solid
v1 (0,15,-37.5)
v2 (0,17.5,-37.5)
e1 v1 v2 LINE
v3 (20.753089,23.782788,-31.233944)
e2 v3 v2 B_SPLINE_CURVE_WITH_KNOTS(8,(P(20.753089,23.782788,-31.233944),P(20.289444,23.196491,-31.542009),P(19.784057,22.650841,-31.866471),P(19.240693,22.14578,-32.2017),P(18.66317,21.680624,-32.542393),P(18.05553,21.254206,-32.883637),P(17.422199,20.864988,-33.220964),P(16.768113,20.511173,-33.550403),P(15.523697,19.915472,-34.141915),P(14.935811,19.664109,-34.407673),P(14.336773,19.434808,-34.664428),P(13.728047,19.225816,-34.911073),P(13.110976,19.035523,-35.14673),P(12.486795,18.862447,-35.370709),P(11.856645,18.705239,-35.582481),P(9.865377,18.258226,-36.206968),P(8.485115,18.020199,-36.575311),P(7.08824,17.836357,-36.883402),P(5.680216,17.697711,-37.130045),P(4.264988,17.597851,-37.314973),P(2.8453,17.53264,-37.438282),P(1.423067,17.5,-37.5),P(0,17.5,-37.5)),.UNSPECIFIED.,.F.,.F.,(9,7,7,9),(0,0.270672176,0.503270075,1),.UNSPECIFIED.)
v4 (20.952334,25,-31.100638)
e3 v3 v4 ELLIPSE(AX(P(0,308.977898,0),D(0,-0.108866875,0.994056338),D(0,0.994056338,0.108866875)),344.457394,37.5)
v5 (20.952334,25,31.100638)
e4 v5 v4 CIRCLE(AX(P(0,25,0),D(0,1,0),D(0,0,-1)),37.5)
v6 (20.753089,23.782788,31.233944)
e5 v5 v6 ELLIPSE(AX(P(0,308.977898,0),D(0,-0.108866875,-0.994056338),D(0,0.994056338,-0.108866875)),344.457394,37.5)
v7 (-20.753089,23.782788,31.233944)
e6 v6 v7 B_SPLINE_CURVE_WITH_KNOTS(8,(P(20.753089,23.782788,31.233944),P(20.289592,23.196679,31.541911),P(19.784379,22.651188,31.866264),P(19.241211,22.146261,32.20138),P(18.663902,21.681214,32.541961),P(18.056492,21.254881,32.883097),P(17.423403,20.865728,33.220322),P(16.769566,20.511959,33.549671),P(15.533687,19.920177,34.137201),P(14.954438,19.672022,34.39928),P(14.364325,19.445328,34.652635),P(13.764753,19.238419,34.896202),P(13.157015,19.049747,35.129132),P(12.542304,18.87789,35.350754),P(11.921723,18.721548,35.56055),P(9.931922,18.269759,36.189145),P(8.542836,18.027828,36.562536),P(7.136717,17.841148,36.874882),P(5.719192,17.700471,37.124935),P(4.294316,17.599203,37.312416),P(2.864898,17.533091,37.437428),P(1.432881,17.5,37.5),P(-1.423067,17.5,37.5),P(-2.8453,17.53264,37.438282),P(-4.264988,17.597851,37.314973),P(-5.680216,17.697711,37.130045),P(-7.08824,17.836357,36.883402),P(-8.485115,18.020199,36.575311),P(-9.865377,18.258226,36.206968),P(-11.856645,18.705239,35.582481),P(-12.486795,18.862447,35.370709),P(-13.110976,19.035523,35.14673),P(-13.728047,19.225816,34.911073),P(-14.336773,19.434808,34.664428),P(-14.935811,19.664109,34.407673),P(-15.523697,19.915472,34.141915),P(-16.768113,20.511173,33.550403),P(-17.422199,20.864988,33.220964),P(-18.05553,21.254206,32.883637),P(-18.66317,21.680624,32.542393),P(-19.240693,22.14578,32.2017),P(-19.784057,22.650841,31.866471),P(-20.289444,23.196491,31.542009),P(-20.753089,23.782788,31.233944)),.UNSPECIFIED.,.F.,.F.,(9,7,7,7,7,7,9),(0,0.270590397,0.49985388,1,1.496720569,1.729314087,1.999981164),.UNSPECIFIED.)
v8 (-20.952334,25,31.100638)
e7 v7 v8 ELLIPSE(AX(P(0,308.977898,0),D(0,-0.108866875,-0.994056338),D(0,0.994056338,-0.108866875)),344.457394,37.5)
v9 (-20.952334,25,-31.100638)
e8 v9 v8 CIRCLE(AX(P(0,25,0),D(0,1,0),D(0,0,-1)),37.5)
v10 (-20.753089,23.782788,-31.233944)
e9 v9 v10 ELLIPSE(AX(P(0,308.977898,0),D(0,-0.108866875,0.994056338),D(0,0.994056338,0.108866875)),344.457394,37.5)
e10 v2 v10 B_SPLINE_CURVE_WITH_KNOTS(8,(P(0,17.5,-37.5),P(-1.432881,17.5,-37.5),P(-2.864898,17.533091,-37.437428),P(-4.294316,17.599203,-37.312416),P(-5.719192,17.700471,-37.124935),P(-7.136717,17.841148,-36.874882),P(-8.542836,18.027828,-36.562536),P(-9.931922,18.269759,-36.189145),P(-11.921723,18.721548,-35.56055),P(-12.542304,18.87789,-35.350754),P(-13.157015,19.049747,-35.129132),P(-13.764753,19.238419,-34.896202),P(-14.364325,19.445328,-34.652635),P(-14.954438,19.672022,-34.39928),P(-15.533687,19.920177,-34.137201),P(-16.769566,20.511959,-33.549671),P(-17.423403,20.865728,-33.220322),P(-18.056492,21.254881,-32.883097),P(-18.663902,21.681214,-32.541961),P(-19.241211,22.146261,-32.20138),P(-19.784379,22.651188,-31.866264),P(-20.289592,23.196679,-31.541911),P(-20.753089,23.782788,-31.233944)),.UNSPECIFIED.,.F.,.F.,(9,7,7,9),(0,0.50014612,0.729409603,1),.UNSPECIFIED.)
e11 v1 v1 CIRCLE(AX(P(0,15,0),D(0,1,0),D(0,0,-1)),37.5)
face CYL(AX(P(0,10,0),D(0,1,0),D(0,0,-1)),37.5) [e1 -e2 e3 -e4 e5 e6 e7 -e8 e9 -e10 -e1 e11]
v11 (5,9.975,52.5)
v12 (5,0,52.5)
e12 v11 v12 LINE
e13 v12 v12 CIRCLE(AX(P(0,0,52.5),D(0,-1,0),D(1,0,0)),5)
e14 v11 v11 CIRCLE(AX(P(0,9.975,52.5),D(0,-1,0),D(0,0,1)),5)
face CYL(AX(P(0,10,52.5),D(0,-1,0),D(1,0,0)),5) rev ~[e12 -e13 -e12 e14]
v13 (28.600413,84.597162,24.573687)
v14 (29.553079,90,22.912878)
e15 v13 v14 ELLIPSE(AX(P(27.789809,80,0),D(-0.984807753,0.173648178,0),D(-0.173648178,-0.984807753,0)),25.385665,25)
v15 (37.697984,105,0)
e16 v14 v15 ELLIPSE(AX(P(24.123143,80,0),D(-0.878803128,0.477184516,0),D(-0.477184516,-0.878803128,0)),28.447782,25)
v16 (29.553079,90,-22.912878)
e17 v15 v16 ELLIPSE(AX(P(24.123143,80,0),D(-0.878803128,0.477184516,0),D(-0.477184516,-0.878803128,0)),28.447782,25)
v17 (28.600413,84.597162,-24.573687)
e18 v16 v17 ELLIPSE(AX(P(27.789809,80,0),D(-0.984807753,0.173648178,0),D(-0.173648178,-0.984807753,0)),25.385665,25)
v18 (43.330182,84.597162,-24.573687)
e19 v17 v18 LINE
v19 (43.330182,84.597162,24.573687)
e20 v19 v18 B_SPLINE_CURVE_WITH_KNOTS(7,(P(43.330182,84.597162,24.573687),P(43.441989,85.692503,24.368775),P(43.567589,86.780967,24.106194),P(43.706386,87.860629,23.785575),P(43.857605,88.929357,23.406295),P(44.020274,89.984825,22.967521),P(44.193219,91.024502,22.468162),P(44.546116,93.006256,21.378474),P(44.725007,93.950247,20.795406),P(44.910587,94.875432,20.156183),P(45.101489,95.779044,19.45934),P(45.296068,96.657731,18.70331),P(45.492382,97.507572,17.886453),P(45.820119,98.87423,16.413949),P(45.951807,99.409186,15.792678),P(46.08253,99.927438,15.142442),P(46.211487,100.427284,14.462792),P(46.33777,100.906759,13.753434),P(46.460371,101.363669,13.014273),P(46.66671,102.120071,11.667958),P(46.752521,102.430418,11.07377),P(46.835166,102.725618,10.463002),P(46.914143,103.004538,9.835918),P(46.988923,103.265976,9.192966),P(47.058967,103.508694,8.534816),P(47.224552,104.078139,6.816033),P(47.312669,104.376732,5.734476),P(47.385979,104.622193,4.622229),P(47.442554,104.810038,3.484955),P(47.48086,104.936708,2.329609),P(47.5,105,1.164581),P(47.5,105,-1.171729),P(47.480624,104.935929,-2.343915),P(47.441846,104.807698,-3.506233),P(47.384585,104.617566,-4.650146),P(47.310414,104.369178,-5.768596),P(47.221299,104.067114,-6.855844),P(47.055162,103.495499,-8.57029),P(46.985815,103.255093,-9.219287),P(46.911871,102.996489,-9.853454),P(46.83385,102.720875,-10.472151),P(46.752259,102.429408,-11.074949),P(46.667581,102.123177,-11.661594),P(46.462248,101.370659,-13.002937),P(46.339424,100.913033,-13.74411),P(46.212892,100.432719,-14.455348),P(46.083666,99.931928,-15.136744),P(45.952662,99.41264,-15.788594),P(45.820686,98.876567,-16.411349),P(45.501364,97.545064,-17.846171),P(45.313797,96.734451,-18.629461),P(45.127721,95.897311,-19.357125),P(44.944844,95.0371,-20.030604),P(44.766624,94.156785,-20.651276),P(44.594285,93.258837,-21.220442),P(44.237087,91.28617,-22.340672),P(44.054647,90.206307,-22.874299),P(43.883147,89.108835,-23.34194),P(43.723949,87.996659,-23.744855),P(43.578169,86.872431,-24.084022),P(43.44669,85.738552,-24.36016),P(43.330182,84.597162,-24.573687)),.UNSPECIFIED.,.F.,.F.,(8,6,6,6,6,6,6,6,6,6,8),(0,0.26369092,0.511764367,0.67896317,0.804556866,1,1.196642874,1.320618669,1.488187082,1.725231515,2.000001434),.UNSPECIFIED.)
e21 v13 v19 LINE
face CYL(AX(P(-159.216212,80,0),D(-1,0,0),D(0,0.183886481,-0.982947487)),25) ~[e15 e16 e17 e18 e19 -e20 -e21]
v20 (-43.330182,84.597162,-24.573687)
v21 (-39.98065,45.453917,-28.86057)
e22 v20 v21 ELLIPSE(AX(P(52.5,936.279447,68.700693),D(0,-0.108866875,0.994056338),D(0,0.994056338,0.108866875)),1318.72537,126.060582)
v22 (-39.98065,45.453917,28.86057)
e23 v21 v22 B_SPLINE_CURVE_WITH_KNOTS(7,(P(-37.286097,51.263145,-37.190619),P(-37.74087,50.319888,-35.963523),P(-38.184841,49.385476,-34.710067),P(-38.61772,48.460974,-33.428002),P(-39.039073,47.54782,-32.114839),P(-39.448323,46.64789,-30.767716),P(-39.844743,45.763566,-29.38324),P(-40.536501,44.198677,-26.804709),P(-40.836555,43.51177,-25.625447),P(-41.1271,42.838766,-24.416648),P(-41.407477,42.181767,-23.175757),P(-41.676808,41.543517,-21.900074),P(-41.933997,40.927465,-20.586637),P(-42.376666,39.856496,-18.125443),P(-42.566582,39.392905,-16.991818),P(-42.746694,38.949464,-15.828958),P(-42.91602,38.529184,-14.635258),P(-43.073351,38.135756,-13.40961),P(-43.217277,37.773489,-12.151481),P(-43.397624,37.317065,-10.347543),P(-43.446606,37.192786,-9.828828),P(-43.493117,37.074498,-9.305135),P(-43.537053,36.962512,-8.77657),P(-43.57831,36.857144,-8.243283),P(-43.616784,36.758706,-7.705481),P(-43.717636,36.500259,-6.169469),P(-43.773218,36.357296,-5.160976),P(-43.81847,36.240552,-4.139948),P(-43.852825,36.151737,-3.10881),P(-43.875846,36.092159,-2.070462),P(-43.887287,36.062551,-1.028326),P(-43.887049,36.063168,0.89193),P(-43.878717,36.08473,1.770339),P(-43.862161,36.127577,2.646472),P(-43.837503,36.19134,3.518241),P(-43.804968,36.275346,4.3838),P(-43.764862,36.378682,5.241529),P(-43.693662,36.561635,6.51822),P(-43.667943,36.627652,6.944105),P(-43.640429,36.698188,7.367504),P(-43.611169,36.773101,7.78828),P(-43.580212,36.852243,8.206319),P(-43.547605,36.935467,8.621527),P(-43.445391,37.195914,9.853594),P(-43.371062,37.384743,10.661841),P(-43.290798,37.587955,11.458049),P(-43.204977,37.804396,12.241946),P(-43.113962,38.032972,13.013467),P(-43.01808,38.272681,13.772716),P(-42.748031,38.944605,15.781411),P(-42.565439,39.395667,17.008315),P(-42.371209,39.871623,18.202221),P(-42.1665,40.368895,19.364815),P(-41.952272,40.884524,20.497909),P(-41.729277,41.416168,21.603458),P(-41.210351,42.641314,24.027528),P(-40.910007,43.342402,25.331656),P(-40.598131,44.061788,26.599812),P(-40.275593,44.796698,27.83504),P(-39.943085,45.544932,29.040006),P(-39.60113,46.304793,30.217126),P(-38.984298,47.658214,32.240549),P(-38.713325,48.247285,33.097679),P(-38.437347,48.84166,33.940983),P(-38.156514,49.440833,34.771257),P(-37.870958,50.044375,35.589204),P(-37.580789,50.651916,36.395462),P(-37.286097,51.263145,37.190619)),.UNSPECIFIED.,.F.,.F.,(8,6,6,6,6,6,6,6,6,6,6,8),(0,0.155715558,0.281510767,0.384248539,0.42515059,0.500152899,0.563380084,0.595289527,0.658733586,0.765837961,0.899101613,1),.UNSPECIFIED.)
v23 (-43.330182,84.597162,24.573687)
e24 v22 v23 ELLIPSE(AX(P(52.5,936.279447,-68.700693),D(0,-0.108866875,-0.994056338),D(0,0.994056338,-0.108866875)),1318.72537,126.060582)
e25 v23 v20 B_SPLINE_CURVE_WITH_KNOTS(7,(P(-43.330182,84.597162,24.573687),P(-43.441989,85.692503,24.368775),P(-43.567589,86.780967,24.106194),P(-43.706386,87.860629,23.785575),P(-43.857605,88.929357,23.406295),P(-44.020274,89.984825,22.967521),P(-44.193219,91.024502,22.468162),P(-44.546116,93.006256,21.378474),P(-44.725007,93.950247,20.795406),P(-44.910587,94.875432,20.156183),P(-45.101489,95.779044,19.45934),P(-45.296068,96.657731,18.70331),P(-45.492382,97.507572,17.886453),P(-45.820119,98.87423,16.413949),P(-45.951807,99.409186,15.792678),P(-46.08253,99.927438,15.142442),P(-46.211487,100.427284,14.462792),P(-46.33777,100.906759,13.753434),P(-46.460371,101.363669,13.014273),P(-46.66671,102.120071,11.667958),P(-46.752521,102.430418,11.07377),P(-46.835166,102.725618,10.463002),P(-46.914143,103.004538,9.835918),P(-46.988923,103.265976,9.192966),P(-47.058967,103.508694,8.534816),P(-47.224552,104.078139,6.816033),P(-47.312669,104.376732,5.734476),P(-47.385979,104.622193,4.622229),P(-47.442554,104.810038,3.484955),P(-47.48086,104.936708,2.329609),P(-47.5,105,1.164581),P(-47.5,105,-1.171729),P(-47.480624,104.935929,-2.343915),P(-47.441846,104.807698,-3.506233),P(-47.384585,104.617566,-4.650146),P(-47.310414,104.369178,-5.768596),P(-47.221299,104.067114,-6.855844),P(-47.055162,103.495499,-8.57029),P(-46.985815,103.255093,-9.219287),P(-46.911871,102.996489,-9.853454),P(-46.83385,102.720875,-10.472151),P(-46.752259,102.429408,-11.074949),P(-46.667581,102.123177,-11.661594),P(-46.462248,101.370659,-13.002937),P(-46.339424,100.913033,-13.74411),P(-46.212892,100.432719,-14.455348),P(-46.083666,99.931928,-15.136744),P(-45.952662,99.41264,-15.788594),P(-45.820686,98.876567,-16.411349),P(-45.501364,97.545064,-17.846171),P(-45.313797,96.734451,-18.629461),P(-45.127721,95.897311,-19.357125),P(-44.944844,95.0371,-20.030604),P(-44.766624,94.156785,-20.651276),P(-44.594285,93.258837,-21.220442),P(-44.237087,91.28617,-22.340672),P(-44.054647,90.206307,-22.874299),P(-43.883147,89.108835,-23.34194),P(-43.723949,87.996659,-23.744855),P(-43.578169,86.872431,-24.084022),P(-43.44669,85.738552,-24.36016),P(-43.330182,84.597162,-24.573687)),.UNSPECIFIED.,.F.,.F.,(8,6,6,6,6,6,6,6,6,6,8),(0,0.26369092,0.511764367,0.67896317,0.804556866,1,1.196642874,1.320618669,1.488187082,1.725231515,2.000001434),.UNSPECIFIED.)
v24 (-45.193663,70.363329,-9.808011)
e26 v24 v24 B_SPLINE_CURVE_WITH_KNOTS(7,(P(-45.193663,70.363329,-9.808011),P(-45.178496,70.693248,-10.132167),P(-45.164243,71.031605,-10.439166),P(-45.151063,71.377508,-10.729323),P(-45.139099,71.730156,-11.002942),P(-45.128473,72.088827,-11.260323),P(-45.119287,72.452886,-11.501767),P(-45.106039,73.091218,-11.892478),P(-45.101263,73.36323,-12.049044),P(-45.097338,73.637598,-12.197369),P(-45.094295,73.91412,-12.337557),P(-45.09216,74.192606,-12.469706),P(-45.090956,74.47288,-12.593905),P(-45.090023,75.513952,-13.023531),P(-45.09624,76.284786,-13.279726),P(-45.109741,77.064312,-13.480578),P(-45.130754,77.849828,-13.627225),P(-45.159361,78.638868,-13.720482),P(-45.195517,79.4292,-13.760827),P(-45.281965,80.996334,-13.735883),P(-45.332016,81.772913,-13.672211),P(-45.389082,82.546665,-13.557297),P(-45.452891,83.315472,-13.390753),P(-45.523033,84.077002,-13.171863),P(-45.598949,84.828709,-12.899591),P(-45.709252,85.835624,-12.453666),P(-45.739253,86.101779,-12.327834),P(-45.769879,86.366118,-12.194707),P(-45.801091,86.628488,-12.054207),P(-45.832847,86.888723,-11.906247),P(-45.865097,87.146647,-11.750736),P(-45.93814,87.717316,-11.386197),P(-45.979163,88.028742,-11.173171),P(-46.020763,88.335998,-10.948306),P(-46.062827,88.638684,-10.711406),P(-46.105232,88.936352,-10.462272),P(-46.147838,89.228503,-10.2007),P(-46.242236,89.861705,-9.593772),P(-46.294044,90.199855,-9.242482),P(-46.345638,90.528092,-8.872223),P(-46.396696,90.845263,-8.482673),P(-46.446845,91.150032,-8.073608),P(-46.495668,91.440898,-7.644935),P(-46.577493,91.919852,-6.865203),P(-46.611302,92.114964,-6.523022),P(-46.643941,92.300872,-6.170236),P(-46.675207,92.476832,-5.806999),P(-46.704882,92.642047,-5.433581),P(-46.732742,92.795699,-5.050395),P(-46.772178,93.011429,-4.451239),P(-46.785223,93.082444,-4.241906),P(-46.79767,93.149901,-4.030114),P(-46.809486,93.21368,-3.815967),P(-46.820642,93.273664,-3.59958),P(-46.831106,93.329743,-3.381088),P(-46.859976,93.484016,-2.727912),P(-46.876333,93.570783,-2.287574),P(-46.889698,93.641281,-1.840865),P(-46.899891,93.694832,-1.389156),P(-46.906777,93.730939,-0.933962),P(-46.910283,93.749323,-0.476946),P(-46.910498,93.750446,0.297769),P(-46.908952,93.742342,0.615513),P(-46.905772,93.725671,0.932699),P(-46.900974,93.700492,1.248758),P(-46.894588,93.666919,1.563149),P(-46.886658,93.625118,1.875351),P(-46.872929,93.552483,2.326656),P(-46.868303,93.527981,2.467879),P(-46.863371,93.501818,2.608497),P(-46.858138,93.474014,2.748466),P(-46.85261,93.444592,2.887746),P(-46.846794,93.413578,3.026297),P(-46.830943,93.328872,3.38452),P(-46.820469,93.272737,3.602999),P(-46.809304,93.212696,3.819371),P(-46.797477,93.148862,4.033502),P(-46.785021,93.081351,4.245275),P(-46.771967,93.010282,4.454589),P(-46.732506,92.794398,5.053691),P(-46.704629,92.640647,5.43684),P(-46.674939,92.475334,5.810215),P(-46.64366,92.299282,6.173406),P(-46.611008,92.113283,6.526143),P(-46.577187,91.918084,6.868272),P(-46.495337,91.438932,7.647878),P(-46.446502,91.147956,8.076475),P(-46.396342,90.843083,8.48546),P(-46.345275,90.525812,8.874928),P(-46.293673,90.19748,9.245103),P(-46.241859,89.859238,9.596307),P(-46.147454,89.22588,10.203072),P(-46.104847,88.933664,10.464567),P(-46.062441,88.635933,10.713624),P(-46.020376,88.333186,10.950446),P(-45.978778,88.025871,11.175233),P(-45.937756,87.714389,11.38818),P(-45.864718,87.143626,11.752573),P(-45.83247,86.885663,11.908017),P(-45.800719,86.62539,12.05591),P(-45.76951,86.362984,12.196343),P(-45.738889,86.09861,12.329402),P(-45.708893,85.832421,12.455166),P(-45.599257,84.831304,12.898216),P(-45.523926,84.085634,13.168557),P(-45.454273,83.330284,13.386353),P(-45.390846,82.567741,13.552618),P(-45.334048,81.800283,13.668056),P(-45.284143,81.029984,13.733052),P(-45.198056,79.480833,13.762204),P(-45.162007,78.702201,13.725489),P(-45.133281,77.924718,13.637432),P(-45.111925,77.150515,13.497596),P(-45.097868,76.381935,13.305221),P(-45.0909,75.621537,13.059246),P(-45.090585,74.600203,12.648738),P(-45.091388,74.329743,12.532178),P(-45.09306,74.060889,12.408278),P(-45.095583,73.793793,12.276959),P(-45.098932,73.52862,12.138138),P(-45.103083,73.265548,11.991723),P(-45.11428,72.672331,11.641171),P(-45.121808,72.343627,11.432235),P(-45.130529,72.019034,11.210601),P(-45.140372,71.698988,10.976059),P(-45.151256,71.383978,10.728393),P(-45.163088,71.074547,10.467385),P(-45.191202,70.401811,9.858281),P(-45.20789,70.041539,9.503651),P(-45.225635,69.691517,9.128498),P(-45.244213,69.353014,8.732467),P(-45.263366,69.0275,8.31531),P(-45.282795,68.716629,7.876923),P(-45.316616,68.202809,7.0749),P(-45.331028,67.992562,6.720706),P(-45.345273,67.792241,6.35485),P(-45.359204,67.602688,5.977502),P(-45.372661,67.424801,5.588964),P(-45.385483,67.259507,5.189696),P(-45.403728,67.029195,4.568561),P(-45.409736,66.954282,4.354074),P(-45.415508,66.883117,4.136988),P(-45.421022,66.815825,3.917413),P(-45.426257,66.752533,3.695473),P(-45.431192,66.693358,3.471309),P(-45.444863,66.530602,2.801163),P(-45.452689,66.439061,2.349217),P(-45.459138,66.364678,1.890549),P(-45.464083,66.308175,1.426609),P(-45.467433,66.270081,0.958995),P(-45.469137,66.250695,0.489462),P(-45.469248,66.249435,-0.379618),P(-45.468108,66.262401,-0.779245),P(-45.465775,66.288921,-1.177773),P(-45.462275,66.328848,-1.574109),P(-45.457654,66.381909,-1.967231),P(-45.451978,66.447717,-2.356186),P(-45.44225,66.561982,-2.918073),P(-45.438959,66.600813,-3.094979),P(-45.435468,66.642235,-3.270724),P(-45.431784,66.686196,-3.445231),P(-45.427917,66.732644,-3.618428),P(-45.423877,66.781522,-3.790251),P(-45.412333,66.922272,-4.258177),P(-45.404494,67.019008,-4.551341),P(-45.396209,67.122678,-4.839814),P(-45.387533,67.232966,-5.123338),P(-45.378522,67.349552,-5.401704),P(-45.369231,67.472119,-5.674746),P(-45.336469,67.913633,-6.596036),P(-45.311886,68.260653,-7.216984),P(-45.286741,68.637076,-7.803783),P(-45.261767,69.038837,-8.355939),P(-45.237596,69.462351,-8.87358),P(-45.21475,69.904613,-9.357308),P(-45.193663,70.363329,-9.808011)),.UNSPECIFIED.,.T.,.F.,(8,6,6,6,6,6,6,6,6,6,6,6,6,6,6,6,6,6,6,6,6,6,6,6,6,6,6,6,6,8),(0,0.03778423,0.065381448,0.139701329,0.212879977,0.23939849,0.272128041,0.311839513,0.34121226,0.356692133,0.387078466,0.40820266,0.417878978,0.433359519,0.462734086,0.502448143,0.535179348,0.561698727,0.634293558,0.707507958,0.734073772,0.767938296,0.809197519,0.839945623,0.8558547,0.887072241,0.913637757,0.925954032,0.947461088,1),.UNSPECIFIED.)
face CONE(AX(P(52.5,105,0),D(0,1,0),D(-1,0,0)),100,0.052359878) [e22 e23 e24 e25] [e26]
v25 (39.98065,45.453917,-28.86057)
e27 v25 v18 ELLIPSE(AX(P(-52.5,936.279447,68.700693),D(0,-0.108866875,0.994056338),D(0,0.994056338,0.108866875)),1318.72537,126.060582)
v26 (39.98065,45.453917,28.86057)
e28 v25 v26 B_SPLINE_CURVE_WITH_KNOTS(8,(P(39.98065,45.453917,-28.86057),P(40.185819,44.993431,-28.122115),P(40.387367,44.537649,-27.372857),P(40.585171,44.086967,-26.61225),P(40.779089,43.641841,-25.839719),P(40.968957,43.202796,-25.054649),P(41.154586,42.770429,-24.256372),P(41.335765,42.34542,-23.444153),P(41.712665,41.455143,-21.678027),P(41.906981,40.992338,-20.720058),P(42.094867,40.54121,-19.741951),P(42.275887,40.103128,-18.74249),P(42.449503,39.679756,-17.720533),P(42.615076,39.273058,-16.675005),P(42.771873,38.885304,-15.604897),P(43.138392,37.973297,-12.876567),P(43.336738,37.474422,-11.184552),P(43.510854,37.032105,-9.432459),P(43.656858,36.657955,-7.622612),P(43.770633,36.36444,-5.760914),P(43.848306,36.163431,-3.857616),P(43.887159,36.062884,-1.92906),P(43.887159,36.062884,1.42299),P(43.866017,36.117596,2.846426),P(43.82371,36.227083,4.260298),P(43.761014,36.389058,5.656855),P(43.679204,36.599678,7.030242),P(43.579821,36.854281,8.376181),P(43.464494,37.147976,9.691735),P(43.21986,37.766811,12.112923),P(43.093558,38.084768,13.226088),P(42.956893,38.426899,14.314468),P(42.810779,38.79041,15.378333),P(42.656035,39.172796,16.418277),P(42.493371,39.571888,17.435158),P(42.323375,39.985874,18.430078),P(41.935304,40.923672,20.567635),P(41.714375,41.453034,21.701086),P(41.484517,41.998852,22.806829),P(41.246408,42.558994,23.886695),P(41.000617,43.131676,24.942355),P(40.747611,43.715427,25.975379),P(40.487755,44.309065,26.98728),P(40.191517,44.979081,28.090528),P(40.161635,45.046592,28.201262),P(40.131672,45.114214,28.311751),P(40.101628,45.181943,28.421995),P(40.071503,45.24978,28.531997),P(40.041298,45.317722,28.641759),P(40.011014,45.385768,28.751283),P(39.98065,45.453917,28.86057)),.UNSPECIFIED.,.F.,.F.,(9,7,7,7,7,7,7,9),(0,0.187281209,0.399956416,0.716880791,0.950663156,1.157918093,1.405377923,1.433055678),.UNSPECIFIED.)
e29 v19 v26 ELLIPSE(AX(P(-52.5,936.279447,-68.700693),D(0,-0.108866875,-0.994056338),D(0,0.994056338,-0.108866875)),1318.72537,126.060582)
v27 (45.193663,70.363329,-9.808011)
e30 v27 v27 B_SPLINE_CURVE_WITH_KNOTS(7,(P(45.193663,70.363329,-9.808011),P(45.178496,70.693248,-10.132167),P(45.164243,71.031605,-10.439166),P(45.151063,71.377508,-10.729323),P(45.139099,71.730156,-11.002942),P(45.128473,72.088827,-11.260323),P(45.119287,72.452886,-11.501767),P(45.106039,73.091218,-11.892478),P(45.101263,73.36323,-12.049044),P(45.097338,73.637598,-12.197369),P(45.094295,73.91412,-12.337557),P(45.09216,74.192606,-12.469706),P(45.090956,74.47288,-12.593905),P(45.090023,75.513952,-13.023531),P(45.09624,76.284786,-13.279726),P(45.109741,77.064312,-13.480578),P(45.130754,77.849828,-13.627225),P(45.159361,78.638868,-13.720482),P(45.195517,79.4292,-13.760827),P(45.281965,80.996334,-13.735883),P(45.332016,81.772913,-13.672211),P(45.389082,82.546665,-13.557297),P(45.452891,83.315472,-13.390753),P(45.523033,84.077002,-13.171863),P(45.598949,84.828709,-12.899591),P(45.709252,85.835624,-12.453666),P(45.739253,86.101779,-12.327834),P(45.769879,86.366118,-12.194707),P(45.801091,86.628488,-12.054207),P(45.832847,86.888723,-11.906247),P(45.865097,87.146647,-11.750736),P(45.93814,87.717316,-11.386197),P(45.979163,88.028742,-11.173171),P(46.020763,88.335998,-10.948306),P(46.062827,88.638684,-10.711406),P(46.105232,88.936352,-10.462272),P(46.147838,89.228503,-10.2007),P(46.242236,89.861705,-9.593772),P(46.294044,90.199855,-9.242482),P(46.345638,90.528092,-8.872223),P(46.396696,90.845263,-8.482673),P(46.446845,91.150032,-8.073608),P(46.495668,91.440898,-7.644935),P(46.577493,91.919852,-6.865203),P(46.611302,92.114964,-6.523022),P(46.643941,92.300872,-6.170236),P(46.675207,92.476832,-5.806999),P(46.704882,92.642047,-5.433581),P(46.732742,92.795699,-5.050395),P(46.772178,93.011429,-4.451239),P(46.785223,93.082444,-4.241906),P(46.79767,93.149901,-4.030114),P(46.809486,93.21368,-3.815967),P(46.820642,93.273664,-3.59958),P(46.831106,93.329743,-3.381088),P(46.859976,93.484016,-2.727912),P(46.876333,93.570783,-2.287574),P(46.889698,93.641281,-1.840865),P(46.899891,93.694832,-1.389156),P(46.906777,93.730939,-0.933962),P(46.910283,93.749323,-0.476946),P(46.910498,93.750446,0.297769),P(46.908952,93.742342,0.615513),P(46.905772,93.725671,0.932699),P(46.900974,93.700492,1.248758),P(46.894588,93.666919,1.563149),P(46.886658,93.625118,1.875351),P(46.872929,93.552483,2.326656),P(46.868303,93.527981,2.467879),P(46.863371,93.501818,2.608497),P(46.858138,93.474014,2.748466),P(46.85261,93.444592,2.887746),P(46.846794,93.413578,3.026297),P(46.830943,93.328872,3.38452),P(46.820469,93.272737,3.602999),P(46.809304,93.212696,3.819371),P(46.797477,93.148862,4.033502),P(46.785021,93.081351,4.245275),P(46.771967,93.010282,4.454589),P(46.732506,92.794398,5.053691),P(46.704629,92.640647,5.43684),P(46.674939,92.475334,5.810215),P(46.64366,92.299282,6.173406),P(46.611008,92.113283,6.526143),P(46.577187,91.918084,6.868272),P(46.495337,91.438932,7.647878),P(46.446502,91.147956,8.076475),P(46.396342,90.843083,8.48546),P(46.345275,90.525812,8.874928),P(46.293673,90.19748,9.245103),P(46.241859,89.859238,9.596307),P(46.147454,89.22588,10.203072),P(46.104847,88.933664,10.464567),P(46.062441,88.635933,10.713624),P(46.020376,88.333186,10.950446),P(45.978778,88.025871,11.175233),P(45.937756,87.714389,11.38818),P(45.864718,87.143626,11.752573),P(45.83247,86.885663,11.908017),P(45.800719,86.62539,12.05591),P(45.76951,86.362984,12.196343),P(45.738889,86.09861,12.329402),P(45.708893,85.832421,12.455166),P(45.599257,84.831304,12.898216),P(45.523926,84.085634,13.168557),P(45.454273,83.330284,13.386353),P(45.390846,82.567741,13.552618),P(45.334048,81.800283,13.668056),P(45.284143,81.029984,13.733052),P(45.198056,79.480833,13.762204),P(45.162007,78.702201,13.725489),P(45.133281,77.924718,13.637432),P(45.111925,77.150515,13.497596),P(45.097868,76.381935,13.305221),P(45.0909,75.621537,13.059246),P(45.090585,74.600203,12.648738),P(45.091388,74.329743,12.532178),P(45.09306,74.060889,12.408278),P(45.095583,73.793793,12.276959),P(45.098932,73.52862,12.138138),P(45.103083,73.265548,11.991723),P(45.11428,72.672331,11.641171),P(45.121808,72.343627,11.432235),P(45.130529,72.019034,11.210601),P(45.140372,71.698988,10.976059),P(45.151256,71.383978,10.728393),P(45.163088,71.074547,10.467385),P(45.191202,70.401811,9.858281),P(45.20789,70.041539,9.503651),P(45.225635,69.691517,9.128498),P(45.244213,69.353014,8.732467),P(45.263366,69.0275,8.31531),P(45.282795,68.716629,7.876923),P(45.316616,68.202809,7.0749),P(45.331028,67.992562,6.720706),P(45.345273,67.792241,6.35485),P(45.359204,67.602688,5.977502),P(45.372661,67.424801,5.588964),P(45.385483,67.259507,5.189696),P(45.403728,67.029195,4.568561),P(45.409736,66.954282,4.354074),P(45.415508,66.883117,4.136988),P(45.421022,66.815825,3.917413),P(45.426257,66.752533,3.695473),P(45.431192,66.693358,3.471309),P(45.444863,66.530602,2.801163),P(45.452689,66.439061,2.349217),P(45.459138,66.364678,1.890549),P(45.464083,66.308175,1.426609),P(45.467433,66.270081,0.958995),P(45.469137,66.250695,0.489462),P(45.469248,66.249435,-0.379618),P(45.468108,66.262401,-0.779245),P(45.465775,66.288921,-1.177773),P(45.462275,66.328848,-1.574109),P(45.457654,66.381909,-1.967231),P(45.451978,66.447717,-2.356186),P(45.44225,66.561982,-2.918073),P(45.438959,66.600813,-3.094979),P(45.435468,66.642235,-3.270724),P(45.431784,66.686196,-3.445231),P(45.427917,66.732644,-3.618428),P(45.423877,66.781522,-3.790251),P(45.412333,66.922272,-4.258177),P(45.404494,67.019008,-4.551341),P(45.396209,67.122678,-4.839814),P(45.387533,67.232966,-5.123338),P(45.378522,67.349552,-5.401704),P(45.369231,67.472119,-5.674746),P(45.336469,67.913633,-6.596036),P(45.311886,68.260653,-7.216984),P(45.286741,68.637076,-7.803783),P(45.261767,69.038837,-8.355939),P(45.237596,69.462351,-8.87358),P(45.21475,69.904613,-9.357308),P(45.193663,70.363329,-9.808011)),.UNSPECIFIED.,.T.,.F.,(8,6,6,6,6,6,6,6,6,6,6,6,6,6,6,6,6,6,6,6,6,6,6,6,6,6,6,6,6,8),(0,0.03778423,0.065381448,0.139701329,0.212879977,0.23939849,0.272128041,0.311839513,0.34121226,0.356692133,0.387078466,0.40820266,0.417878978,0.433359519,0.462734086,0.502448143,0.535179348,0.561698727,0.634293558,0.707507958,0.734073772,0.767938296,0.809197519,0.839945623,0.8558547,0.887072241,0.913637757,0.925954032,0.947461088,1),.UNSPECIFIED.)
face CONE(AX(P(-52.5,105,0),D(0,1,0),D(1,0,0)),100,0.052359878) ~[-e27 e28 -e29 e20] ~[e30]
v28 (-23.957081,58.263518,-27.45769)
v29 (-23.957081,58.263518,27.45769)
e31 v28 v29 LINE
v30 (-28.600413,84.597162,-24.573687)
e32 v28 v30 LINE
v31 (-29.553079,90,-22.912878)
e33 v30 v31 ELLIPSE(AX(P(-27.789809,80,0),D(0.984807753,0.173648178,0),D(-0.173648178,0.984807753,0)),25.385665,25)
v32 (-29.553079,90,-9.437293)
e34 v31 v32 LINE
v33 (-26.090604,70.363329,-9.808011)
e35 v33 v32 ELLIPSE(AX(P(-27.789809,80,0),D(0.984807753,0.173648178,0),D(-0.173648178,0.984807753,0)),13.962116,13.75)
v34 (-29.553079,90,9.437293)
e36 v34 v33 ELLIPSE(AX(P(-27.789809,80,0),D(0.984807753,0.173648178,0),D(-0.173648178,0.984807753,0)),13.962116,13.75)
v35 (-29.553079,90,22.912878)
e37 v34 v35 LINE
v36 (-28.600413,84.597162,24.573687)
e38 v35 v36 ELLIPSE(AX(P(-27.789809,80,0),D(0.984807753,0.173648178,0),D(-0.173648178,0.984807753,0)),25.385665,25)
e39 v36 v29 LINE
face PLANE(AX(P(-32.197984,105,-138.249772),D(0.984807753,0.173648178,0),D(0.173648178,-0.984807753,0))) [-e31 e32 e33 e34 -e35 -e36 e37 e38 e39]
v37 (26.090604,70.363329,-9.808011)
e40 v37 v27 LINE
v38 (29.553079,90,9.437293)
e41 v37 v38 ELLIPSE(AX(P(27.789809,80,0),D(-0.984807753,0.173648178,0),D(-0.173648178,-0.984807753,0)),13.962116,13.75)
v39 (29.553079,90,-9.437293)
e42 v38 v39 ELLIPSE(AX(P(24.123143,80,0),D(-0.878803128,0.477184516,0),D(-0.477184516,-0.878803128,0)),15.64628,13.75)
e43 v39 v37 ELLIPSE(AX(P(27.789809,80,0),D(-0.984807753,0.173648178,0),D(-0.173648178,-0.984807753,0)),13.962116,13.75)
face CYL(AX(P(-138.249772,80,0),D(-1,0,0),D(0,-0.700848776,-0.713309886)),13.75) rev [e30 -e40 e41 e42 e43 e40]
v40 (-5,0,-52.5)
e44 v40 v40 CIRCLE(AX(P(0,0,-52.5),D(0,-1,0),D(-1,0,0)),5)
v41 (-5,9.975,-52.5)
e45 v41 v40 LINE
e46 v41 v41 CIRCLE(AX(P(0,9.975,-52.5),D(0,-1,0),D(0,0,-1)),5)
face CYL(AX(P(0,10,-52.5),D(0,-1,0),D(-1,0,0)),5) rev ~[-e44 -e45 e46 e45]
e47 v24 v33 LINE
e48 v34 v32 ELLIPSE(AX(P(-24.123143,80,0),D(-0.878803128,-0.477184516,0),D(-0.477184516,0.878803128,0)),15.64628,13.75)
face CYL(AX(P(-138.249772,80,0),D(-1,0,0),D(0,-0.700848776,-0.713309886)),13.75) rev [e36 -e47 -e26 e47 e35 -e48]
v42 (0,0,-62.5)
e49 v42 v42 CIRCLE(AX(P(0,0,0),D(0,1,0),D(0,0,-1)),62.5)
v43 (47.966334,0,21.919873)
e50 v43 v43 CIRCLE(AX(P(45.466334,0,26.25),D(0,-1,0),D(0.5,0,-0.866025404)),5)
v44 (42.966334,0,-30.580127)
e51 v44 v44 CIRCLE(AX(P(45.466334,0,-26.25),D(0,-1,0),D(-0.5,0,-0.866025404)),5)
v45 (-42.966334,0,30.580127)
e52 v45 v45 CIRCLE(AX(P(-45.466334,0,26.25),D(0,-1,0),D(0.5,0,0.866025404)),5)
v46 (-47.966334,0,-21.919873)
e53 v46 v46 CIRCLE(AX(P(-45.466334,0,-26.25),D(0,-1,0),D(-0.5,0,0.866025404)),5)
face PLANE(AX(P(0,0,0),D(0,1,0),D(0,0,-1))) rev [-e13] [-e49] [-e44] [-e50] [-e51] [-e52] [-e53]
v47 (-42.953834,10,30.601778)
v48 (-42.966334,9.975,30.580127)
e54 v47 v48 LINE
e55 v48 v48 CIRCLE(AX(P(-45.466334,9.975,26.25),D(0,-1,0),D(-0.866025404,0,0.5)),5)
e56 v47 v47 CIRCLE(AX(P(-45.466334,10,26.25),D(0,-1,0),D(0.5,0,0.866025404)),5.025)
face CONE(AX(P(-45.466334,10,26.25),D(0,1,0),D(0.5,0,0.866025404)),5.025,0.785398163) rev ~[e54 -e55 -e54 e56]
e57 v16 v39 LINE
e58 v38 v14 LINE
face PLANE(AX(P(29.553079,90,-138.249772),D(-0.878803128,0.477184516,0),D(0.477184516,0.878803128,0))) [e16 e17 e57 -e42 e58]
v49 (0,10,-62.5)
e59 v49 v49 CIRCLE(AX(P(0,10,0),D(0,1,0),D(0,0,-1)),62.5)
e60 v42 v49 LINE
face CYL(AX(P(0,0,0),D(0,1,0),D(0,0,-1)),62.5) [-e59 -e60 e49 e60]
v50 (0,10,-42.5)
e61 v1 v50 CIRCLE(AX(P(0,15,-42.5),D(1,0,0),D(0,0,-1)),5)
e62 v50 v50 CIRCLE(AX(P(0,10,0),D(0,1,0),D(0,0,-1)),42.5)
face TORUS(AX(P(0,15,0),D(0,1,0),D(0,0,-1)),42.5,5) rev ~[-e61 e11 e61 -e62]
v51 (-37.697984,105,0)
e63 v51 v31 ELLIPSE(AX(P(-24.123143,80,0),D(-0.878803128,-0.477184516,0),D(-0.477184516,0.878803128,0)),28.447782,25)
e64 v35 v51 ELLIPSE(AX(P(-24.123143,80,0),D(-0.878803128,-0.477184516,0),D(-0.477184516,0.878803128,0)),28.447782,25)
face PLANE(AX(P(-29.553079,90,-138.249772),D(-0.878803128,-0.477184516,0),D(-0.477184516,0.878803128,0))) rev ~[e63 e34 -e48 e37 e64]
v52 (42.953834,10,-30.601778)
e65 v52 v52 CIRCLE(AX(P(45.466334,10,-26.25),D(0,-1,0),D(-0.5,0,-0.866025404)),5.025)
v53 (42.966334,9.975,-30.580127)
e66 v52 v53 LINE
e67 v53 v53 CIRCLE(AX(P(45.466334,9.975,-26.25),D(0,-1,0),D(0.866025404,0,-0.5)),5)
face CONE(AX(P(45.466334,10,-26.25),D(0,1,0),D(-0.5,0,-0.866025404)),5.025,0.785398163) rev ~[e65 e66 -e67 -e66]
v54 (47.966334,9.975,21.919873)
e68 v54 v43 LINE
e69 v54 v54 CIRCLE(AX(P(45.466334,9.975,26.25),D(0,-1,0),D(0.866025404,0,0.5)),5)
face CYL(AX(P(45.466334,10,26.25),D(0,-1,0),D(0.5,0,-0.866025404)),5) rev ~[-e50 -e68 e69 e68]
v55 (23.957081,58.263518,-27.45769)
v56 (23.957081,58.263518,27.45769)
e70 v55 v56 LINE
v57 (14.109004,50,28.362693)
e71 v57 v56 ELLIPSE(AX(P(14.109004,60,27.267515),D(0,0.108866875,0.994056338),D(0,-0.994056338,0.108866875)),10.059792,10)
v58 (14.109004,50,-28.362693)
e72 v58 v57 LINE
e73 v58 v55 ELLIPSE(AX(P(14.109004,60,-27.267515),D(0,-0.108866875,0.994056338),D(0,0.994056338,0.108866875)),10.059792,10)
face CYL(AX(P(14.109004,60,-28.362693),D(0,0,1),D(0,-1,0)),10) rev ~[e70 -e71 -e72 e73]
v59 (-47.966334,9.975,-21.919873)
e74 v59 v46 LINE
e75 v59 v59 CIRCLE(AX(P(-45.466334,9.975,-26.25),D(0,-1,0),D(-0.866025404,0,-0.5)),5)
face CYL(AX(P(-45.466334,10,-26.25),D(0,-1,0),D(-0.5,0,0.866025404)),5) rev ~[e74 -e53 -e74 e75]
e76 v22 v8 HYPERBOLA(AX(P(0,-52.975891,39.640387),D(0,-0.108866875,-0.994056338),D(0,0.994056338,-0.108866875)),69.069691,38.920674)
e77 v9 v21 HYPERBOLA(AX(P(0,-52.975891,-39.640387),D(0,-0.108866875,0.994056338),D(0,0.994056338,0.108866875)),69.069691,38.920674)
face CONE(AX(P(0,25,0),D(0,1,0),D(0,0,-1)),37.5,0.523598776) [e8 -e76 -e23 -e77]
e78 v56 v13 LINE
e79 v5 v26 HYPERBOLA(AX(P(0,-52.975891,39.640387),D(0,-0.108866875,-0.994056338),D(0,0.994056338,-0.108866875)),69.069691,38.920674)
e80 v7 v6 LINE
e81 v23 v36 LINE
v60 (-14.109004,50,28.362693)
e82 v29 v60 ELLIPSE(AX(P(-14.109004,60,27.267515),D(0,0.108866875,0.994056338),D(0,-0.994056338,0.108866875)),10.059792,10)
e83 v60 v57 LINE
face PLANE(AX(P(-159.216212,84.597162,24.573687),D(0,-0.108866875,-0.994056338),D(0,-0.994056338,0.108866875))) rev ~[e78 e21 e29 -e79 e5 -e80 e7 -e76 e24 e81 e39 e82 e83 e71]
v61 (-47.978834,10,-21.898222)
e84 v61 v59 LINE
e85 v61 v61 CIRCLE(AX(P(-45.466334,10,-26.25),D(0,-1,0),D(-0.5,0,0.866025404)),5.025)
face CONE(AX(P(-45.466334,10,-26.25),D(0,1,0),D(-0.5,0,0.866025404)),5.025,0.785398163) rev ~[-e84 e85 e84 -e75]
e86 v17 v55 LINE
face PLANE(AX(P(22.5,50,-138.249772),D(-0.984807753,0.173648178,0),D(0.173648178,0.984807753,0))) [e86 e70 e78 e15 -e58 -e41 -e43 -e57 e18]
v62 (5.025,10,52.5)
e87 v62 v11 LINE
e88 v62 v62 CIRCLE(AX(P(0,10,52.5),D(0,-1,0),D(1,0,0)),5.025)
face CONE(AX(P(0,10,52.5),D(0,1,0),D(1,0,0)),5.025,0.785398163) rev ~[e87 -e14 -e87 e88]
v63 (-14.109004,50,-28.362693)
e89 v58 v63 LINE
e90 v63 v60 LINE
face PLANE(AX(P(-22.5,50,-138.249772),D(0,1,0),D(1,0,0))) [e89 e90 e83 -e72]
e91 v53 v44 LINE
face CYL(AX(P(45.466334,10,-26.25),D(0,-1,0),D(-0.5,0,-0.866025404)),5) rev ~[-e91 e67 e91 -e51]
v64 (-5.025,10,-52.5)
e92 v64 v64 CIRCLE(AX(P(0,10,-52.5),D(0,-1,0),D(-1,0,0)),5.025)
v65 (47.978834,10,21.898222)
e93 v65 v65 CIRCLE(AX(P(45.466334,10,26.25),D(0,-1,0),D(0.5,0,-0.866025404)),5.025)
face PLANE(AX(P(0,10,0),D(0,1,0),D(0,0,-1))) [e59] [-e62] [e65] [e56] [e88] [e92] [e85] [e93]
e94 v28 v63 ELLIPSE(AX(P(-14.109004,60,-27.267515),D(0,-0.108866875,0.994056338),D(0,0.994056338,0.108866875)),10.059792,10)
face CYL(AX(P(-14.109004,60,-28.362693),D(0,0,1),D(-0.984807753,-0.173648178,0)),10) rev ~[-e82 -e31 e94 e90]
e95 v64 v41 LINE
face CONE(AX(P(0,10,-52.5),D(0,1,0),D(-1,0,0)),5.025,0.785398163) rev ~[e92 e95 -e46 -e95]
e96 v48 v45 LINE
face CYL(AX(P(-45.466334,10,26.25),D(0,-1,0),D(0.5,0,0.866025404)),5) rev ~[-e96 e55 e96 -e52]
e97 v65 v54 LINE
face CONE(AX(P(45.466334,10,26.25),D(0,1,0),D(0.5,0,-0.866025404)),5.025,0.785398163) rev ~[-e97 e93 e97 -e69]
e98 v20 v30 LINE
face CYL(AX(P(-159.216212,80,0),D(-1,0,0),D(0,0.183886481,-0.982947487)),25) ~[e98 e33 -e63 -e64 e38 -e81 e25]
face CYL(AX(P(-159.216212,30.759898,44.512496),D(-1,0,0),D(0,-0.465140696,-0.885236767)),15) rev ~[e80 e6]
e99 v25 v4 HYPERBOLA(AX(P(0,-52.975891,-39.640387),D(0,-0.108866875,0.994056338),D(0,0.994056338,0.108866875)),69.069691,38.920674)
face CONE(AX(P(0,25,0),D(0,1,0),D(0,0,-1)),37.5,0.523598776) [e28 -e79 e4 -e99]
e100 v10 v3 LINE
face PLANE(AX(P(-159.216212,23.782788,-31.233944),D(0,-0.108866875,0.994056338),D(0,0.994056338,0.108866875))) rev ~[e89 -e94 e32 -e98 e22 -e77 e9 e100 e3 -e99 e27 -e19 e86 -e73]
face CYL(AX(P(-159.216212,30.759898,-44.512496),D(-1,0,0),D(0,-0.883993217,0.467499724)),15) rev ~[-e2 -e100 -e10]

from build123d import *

# Parameters (mm, degrees)
CUT_EXTRUDE1_DEPTH                   = 159.216212497
CUT_EXTRUDE1_DEPTH_BACK              = 159.216212497
CUT_REVOLVE1_ANGLE                   = 45
CUT_EXTRUDE2_DEPTH                   = 138.24977239
CUT_EXTRUDE2_DEPTH_BACK              = 138.24977239
CUT_EXTRUDE3_DEPTH                   = 138.24977239
CUT_EXTRUDE3_DEPTH_BACK              = 138.24977239
CUT_EXTRUDE4_DEPTH                   = 138.24977239
CUT_EXTRUDE4_DEPTH_BACK              = 138.24977239
SKETCH6_R                            = 13.75
F_10_0_10_DIAMETER_HOLE1_D           = 10
F_10_0_10_DIAMETER_HOLE1_DEPTH       = 10
F_10_0_10_DIAMETER_HOLE1_CSINK_D     = 10.05
F_10_0_10_DIAMETER_HOLE1_CSINK_ANGLE = 90
CIRPATTERN1_COUNT                    = 6
FILLET3_R                            = 10
FILLET4_R                            = 5


with BuildPart() as part:
    # Sketch1 → Revolve1 (revolve)
    with BuildSketch(Plane.XY, mode=Mode.PRIVATE) as revolve1_sk:
        Polygon((0, 0), (-62.5, 0), (-62.5, 10), (-37.5, 10), (-37.5, 25), (-83.688021535, 105), (0, 105), align=None)
    revolve(revolve1_sk.sketch.rotate(Axis((0, 0, 0), (0, 1, 0)), 270), axis=Axis((0, 0, 0), (0, 1, 0)))

    # Sketch2 → Cut-Extrude1 (cut, two sides: drawn at the far end of the back side and taken through both)
    with BuildSketch(Plane(origin=(0, 0, 0), x_dir=(0, 0, -1), z_dir=(1, 0, 0)).offset(-CUT_EXTRUDE1_DEPTH_BACK)):
        with BuildLine():
            Line((-24.573687175, 84.59716202), (-31.233944355, 23.782787827))
            ThreePointArc((-31.233944355, 23.782787827), (-33.891761116, 20.167448423), (-37.5, 17.5))
            Line((-37.5, 17.5), (-101.023811283, 17.5))
            Line((-101.023811283, 17.5), (-101.023811283, 124.521875929))
            Line((-101.023811283, 124.521875929), (93.829847102, 124.521875929))
            Line((93.829847102, 124.521875929), (93.829847102, 17.5))
            Line((93.829847102, 17.5), (37.5, 17.5))
            ThreePointArc((37.5, 17.5), (33.891761116, 20.167448423), (31.233944355, 23.782787827))
            Line((31.233944355, 23.782787827), (24.573687175, 84.59716202))
            ThreePointArc((24.573687175, 84.59716202), (0, 105), (-24.573687175, 84.59716202))
        make_face()
    extrude(amount=CUT_EXTRUDE1_DEPTH + CUT_EXTRUDE1_DEPTH_BACK, mode=Mode.SUBTRACT)

    # Sketch3 → Cut-Revolve1 (revolve, symmetric, cut)
    with BuildSketch(Plane.XY) as cut_revolve1_sk:
        Polygon((47.5, 105), (43.500508947, 28.685164541), (102.973812388, 28.685164541), (102.973812388, 105), align=None)
    cut_revolve1 = revolve(axis=Axis((-52.5, 30.66973461, 0), (0, 1, 0)), revolution_arc=CUT_REVOLVE1_ANGLE / 2, mode=Mode.SUBTRACT)
    cut_revolve1 = cut_revolve1 + revolve(cut_revolve1_sk.sketch, axis=Axis((-52.5, 30.66973461, 0), (0, -1, 0)), revolution_arc=CUT_REVOLVE1_ANGLE / 2, mode=Mode.SUBTRACT)

    # Mirror1: Cut-Revolve1 across plane
    add(cut_revolve1.mirror(Plane(origin=(0, 0, 0), x_dir=(0, 0, 1), z_dir=(1, 0, 0))), mode=Mode.SUBTRACT)

    # Sketch4 → Cut-Extrude2 (cut, two sides: drawn at the far end of the back side and taken through both)
    with BuildSketch(Plane.XY.offset(-CUT_EXTRUDE2_DEPTH_BACK)):
        Polygon((-32.197983939, 105), (-22.5, 50), (22.5, 50), (32.197983939, 105), align=None)
    extrude(amount=CUT_EXTRUDE2_DEPTH + CUT_EXTRUDE2_DEPTH_BACK, mode=Mode.SUBTRACT)

    # Sketch5 → Cut-Extrude3 (cut, two sides: drawn at the far end of the back side and taken through both)
    with BuildSketch(Plane.XY.offset(-CUT_EXTRUDE3_DEPTH_BACK)):
        Polygon((37.697983939, 105), (32.197983939, 105), (29.553079228, 90), align=None)
        Polygon((-29.553079228, 90), (-37.697983939, 105), (-32.197983939, 105), align=None)
    extrude(amount=CUT_EXTRUDE3_DEPTH + CUT_EXTRUDE3_DEPTH_BACK, mode=Mode.SUBTRACT)

    # Sketch6 → Cut-Extrude4 (cut, two sides: drawn at the far end of the back side and taken through both)
    with BuildSketch(Plane(origin=(0, 0, 0), x_dir=(0, 0, -1), z_dir=(1, 0, 0)).offset(-CUT_EXTRUDE4_DEPTH_BACK)):
        with Locations(Location((0, 80, 0), (0, 0, 315.504858884))):
            Circle(SKETCH6_R)
    extrude(amount=CUT_EXTRUDE4_DEPTH + CUT_EXTRUDE4_DEPTH_BACK, mode=Mode.SUBTRACT)

    # Ø10.0 (10) Diameter Hole1
    with Locations(Plane(origin=(0, 10, 0), x_dir=(1, 0, 0), z_dir=(0, 1, 0))):
        with Locations((0, 52.5)):
            f_10_0_10_diameter_hole1 = CounterSinkHole(F_10_0_10_DIAMETER_HOLE1_D / 2, F_10_0_10_DIAMETER_HOLE1_CSINK_D / 2, depth=F_10_0_10_DIAMETER_HOLE1_DEPTH, counter_sink_angle=F_10_0_10_DIAMETER_HOLE1_CSINK_ANGLE)

    # CirPattern1: Ø10.0 (10) Diameter Hole1 ×6 about axis
    cirpattern1_axis = Axis((0, 0, 0), (0, 1, 0))
    for i in range(1, CIRPATTERN1_COUNT):
        add(f_10_0_10_diameter_hole1.rotate(cirpattern1_axis, i * 360 / CIRPATTERN1_COUNT), mode=Mode.SUBTRACT)

    # Fillet3
    fillet3_edges = [part.edges().sort_by_distance(p)[0] for p in [
        (22.5, 50, 0),
        (-22.5, 50, 0),
    ]]
    fillet(fillet3_edges, radius=FILLET3_R)

    # Fillet4
    fillet4_edges = [part.edges().sort_by_distance(p)[0] for p in [
        (0, 10, 37.5),
    ]]
    fillet(fillet4_edges, radius=FILLET4_R)


solid = part.part
